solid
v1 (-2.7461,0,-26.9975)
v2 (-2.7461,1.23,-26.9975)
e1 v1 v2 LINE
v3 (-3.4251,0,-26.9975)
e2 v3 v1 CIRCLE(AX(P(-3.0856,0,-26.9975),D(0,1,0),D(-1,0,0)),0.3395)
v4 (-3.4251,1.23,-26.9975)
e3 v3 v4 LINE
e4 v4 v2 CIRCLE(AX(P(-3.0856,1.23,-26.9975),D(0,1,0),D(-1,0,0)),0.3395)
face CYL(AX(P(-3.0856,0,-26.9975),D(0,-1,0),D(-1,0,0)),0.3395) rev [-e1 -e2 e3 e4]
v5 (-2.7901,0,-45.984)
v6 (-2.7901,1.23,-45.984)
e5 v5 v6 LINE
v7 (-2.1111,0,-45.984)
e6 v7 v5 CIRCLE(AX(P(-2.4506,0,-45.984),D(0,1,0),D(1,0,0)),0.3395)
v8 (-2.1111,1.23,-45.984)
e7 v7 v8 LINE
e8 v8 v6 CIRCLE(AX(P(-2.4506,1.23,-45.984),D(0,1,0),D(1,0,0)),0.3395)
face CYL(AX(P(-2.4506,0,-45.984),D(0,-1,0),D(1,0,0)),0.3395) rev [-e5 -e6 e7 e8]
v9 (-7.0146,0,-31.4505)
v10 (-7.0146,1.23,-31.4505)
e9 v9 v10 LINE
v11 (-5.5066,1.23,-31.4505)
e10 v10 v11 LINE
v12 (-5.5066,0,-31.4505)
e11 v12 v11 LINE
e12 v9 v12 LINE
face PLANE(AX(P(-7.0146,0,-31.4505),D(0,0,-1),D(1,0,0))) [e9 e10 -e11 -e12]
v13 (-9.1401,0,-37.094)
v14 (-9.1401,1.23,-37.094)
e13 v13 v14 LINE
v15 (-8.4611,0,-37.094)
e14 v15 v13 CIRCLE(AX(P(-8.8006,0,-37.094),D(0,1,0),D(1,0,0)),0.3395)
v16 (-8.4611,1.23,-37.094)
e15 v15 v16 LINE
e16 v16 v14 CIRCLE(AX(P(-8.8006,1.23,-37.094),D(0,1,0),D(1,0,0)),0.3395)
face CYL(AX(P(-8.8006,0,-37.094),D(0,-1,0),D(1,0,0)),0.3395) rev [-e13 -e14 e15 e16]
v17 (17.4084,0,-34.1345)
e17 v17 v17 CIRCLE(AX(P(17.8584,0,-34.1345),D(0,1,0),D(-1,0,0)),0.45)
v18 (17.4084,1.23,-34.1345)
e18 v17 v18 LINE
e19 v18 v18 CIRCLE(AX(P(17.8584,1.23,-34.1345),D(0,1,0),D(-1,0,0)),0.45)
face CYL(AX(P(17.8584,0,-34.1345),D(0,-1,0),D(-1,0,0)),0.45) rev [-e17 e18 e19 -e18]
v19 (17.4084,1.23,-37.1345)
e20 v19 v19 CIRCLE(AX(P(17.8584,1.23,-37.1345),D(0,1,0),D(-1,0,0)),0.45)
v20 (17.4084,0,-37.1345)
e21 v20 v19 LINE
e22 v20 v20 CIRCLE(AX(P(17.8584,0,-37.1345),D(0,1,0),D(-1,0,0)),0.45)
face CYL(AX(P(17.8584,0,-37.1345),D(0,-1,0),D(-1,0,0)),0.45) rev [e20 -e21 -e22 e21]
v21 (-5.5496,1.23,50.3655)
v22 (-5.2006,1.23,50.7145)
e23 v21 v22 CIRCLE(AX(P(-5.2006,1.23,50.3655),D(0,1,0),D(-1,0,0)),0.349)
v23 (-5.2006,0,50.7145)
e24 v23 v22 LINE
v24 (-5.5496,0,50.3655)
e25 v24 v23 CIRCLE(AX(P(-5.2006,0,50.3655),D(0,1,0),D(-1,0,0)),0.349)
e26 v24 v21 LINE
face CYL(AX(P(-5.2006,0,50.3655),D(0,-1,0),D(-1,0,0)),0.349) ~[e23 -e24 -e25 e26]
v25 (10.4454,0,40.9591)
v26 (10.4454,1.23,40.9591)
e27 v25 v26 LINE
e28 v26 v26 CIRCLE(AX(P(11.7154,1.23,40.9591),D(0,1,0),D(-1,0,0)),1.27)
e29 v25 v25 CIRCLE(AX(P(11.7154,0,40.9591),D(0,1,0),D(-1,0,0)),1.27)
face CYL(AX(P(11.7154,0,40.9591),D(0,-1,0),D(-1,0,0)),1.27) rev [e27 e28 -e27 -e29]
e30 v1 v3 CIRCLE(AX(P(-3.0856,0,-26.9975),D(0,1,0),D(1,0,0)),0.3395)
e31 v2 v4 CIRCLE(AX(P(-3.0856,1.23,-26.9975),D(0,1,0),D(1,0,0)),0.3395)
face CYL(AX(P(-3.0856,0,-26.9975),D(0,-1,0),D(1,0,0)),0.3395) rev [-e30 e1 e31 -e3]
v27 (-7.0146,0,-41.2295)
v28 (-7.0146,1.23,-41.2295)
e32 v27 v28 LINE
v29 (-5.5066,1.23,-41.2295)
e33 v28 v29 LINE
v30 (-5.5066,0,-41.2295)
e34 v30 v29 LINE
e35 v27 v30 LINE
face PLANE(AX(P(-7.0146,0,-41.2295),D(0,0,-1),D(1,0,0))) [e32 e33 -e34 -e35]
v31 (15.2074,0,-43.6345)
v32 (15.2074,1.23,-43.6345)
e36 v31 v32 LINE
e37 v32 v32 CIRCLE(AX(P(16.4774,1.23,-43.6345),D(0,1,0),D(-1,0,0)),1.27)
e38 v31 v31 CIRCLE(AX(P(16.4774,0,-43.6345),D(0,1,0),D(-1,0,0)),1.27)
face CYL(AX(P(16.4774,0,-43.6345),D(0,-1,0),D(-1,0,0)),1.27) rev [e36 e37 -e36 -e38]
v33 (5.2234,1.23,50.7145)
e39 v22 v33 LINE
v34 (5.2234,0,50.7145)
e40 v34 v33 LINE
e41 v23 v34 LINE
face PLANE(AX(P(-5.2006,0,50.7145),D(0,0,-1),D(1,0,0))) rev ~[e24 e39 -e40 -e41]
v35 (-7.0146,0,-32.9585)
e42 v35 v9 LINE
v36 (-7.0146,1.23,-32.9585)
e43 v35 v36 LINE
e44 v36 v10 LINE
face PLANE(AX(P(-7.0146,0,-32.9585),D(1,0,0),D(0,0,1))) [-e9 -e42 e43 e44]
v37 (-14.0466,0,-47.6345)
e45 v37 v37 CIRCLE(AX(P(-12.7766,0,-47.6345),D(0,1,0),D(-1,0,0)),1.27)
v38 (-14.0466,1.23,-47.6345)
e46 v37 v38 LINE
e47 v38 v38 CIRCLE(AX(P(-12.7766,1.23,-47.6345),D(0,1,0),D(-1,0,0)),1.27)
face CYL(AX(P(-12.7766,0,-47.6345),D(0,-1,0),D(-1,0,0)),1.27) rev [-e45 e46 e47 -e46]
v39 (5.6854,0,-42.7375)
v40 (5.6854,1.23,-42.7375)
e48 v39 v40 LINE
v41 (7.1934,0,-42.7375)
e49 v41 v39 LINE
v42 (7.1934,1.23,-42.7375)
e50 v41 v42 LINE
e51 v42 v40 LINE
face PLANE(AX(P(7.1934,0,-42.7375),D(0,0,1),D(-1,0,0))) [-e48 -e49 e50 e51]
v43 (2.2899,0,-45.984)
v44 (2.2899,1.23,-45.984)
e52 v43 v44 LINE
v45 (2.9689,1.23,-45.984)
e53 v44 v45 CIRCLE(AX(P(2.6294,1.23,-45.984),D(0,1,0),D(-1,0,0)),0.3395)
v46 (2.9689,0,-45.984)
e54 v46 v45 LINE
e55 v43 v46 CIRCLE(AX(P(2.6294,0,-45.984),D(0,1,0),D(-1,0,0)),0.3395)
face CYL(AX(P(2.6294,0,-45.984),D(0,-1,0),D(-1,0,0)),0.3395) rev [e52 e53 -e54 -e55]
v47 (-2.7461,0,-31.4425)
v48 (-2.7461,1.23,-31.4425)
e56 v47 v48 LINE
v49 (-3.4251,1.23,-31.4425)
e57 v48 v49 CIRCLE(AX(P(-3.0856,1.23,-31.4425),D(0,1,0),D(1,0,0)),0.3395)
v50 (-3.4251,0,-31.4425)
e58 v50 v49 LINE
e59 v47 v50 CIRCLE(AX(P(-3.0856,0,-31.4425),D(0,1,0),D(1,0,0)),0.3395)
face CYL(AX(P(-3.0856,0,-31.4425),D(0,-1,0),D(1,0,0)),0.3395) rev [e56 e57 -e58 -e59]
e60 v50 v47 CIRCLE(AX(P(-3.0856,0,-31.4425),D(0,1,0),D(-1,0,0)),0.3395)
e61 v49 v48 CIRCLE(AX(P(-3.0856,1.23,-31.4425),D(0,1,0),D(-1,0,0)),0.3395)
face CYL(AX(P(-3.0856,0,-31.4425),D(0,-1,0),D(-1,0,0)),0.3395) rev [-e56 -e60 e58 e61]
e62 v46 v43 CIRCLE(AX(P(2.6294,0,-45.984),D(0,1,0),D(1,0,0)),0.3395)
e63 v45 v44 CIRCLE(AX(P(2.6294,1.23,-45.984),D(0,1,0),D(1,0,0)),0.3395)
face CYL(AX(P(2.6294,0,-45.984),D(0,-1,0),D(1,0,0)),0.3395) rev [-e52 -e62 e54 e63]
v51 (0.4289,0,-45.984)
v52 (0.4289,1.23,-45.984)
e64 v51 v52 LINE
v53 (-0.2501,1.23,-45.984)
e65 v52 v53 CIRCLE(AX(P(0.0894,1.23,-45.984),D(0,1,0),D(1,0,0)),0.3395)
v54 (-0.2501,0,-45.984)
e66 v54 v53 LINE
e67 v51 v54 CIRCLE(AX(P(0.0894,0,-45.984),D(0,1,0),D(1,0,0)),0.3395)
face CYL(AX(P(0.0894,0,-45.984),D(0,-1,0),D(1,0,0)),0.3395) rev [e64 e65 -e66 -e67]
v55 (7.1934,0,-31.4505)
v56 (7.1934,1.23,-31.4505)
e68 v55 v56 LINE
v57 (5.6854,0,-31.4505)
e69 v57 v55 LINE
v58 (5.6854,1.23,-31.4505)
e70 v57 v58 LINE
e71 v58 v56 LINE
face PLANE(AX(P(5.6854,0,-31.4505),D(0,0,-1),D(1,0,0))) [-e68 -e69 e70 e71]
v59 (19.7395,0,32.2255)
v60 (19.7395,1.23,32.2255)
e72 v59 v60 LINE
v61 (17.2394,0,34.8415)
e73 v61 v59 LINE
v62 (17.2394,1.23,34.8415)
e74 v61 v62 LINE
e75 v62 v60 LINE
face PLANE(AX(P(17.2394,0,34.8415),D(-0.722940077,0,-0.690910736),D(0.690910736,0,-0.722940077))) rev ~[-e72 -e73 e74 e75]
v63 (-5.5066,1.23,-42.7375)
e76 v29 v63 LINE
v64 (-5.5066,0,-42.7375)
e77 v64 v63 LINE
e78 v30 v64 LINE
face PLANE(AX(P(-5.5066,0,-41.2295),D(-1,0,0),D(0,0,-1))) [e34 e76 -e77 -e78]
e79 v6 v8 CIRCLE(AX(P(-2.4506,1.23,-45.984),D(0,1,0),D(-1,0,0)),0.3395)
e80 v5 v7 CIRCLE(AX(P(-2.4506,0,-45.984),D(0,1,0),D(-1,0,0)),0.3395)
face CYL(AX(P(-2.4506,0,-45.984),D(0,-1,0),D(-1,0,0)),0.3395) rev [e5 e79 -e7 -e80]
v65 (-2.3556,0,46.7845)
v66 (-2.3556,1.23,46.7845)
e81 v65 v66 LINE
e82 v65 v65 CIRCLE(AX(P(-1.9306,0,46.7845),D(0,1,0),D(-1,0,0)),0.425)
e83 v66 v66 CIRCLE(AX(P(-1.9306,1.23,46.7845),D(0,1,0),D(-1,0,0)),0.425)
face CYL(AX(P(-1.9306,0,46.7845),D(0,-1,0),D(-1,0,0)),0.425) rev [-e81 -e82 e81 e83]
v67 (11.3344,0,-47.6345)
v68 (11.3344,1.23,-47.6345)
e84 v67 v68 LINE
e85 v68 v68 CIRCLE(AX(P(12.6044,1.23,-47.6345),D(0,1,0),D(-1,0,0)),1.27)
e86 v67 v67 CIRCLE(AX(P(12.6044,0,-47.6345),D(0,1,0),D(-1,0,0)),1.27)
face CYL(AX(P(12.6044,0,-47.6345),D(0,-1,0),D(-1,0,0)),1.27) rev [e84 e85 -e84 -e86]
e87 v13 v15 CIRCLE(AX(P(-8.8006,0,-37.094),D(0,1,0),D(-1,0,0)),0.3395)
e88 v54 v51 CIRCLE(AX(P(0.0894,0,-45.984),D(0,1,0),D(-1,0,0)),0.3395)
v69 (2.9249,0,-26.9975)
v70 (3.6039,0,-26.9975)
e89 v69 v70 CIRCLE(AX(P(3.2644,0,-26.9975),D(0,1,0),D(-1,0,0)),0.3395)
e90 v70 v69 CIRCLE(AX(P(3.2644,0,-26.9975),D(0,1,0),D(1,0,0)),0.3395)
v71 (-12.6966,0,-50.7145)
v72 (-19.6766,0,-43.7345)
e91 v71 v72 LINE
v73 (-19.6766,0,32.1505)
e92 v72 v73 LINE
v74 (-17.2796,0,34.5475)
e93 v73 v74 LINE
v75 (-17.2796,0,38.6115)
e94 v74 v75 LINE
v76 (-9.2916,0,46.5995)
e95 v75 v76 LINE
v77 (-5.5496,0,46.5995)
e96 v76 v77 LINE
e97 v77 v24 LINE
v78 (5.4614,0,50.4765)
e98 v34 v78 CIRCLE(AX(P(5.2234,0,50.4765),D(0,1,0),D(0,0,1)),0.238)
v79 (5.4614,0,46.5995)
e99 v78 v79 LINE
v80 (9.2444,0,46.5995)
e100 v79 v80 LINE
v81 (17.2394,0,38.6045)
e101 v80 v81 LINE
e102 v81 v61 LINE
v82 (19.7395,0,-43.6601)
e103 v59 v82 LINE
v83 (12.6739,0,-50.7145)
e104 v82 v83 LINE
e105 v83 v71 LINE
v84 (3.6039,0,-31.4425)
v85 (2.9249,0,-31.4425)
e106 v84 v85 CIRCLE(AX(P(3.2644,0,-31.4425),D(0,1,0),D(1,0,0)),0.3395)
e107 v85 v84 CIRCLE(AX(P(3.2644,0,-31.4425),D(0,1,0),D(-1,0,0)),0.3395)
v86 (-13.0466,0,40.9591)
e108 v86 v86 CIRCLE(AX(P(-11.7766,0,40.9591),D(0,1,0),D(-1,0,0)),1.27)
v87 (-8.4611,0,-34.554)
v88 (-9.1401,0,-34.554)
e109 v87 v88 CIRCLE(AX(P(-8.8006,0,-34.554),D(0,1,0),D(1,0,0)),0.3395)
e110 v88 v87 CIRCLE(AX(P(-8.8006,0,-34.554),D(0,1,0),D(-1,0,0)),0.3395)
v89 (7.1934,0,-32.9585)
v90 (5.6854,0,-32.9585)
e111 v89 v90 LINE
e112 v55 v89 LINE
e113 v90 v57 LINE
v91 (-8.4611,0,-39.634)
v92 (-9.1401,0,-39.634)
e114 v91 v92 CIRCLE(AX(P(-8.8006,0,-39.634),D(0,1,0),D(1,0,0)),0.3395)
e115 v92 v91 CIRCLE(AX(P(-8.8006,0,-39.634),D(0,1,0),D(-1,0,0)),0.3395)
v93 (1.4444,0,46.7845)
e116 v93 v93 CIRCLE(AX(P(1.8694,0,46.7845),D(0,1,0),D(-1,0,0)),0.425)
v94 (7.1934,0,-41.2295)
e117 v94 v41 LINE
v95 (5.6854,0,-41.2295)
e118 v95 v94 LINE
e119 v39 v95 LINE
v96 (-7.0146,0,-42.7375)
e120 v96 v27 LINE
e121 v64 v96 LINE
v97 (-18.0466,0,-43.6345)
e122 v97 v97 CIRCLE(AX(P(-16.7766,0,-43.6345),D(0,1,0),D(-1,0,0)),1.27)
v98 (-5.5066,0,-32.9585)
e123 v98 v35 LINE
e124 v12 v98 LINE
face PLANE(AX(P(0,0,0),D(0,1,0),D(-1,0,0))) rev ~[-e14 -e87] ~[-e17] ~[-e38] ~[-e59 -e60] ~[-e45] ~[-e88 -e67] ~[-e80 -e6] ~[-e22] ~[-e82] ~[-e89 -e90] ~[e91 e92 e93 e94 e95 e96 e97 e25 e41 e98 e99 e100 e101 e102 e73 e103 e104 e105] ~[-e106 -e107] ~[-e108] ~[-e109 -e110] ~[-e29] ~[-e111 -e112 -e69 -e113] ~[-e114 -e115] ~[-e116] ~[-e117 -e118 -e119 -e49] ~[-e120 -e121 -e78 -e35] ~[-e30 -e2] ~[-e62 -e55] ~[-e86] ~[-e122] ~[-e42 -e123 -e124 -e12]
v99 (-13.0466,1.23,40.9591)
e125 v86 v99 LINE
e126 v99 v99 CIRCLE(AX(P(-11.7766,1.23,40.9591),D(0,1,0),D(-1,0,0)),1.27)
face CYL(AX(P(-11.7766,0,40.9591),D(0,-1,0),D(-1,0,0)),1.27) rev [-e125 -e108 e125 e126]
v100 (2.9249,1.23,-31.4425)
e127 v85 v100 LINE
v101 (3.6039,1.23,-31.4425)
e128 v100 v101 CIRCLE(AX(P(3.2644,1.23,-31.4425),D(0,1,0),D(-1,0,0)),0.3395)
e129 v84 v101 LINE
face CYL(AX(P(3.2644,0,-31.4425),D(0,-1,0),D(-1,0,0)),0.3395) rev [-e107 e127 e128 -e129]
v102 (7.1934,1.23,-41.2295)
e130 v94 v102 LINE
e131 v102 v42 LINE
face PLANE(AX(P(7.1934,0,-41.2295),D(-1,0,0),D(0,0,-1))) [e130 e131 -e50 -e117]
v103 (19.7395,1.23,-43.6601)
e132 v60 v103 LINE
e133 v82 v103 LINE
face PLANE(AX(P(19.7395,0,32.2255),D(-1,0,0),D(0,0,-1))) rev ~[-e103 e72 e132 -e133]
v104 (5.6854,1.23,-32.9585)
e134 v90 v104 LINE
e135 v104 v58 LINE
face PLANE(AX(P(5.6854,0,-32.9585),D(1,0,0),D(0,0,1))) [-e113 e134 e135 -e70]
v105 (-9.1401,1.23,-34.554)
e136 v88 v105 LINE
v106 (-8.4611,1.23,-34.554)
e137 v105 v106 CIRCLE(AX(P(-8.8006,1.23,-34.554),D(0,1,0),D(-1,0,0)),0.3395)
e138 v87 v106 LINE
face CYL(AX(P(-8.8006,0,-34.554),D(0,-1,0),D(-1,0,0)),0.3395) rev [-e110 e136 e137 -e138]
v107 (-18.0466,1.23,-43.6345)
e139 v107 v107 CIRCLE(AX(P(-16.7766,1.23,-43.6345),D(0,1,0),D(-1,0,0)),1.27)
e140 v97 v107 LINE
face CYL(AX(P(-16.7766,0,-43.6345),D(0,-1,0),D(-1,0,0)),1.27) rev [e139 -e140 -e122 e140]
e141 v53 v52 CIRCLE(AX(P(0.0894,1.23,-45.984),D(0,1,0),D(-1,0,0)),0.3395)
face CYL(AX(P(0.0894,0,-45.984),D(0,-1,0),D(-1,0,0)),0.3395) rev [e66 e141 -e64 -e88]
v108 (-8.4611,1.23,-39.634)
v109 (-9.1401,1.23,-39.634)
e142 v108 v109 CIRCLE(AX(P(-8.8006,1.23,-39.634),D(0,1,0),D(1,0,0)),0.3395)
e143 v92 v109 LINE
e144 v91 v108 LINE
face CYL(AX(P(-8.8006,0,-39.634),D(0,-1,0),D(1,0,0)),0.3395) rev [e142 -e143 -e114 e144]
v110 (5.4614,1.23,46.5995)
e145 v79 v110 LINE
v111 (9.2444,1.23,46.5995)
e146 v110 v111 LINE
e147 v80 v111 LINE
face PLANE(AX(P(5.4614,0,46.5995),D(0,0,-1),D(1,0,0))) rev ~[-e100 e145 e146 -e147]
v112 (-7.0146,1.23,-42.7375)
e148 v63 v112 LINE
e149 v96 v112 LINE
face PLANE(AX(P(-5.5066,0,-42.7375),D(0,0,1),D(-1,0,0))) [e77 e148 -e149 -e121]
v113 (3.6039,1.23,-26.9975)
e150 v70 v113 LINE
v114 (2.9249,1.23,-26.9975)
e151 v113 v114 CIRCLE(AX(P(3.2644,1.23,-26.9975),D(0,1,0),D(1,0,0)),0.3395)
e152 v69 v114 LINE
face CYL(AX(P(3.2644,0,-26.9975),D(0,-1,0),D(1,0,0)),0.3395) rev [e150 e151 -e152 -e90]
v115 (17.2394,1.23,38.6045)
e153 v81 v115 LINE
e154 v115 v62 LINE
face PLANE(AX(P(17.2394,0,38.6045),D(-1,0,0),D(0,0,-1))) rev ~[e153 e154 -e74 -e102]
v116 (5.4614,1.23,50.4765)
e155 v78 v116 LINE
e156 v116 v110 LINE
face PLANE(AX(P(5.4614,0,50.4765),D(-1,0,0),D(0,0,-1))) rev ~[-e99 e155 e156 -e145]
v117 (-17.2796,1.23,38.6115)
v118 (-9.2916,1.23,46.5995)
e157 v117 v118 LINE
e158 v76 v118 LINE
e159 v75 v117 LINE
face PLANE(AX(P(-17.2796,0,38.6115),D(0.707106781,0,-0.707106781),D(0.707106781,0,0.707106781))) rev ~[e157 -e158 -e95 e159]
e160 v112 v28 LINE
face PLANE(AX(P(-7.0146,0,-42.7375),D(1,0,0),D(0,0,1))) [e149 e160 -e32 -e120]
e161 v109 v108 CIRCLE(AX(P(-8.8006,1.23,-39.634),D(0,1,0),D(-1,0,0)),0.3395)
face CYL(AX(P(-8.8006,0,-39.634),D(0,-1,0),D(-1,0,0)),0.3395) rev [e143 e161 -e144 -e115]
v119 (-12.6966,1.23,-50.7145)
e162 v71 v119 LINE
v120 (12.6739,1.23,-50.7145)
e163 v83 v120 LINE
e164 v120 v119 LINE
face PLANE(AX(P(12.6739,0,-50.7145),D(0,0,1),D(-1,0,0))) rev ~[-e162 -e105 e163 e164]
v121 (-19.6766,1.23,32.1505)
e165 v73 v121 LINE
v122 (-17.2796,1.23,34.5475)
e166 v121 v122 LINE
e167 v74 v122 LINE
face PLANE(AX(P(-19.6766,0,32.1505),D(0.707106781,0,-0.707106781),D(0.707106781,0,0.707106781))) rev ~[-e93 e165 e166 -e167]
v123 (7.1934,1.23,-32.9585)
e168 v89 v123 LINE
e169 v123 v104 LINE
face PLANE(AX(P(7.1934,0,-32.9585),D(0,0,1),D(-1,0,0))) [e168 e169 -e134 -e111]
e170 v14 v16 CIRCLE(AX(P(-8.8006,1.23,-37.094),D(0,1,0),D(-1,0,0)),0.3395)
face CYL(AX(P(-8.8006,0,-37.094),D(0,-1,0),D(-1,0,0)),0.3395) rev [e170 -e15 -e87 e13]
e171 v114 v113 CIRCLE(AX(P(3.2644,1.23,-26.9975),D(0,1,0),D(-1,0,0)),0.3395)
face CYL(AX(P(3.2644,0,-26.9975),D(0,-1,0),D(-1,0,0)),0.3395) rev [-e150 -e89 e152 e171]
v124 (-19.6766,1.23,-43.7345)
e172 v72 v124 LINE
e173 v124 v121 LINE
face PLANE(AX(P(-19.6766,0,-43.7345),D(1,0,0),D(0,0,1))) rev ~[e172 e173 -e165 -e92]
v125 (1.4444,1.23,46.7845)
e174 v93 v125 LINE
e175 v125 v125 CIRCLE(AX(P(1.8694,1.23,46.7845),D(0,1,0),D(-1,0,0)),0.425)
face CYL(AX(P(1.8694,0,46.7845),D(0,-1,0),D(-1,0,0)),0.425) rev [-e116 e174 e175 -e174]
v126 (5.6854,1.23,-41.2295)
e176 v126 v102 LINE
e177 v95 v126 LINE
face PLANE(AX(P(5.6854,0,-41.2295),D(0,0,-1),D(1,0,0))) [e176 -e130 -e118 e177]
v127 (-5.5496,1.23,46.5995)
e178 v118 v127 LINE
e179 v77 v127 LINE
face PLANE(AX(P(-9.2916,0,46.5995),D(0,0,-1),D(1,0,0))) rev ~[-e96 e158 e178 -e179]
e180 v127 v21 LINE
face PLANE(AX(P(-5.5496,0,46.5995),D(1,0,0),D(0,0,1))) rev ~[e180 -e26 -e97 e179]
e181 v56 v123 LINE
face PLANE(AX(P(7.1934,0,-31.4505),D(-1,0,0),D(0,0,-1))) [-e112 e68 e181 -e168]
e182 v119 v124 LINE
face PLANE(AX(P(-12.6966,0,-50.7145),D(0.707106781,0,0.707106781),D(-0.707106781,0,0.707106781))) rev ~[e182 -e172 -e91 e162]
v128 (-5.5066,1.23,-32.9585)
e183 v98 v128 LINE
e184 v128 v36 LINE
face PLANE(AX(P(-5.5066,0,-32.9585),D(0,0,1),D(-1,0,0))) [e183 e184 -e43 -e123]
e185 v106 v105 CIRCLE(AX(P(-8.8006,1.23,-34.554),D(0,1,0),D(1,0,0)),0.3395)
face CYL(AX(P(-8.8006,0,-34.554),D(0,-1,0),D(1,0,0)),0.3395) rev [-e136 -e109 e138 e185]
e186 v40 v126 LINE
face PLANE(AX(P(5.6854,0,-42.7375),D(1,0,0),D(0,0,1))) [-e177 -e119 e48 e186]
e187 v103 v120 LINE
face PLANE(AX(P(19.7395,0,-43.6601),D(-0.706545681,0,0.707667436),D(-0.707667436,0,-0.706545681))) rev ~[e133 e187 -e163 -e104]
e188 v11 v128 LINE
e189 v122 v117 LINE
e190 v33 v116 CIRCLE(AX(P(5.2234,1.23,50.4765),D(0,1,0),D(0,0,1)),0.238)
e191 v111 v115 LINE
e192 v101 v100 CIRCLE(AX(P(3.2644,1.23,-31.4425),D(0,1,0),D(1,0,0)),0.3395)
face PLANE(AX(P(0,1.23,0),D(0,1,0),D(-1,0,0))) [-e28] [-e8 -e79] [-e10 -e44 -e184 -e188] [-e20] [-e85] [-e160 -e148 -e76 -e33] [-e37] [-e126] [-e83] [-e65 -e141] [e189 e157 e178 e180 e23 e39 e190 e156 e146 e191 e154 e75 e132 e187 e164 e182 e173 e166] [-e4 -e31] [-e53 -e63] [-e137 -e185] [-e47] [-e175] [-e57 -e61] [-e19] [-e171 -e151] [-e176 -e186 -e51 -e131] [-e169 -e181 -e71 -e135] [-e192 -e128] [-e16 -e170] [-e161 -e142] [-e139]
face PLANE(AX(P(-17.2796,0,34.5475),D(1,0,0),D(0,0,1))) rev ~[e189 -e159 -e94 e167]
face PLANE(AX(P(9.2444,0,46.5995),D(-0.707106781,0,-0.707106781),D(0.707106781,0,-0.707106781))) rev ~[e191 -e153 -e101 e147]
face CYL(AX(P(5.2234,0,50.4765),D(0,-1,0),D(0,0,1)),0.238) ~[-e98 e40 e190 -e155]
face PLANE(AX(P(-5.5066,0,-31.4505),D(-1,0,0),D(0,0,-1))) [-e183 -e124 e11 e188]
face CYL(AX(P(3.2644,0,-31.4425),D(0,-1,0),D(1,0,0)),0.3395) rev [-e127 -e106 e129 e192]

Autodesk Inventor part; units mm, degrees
sketch "Sketch1" plane through (0, 0, 0) normal (0, 1, 0) x (-1, 0, 0)
  line L0 (5.5496, 46.5995) -> (5.5496, 50.3655)
  arc A0 (5.5496, 50.3655) -> (5.2006, 50.7145) centre (5.2006, 50.3655) ccw
  line L1 (5.2006, 50.7145) -> (-5.2234, 50.7145)
  arc A1 (-5.2234, 50.7145) -> (-5.4614, 50.4765) centre (-5.2234, 50.4765) ccw
  line L2 (-5.4614, 50.4765) -> (-5.4614, 46.5995)
  line L3 (-5.4614, 46.5995) -> (-9.2444, 46.5995)
  line L4 (-9.2444, 46.5995) -> (-17.2394, 38.6045)
  line L5 (-17.2394, 38.6045) -> (-17.2394, 34.8415)
  line L6 (-17.2394, 34.8415) -> (-19.7395, 32.2255)
  line L7 (-19.7395, 32.2255) -> (-19.7395, -43.6601)
  line L8 (-19.7395, -43.6601) -> (-12.6739, -50.7145)
  line L9 (-12.6739, -50.7145) -> (12.6966, -50.7145)
  line L10 (12.6966, -50.7145) -> (19.6766, -43.7345)
  line L11 (19.6766, -43.7345) -> (19.6766, 32.1505)
  line L12 (19.6766, 32.1505) -> (17.2796, 34.5475)
  line L13 (17.2796, 34.5475) -> (17.2796, 38.6115)
  line L14 (17.2796, 38.6115) -> (9.2916, 46.5995)
  line L15 (9.2916, 46.5995) -> (5.5496, 46.5995)
  circle A2 centre (12.7766, -47.6345) radius 1.27
  circle A3 centre (-12.6044, -47.6345) radius 1.27
  circle A4 centre (16.7766, -43.6345) radius 1.27
  circle A5 centre (-16.4774, -43.6345) radius 1.27
  circle A6 centre (11.7766, 40.9591) radius 1.27
  circle A7 centre (-11.7154, 40.9591) radius 1.27
  circle A8 centre (-1.8694, 46.7845) radius 0.425
  circle A9 centre (1.9306, 46.7845) radius 0.425
  circle A10 centre (-17.8584, -37.1345) radius 0.45
  circle A11 centre (-17.8584, -34.1345) radius 0.45
  arc A12 (3.4251, -26.9975) -> (2.7461, -26.9975) centre (3.0856, -26.9975) ccw
  arc A13 (2.7461, -26.9975) -> (3.4251, -26.9975) centre (3.0856, -26.9975) ccw
  arc A14 (3.4251, -26.9975) -> (2.7461, -26.9975) centre (3.0856, -26.9975) ccw
  arc A15 (2.7461, -26.9975) -> (3.4251, -26.9975) centre (3.0856, -26.9975) ccw
  arc A16 (3.4251, -31.4425) -> (2.7461, -31.4425) centre (3.0856, -31.4425) ccw
  arc A17 (2.7461, -31.4425) -> (3.4251, -31.4425) centre (3.0856, -31.4425) ccw
  arc A18 (3.4251, -31.4425) -> (2.7461, -31.4425) centre (3.0856, -31.4425) ccw
  arc A19 (2.7461, -31.4425) -> (3.4251, -31.4425) centre (3.0856, -31.4425) ccw
  arc A20 (-2.9249, -31.4425) -> (-3.6039, -31.4425) centre (-3.2644, -31.4425) ccw
  arc A21 (-3.6039, -31.4425) -> (-2.9249, -31.4425) centre (-3.2644, -31.4425) ccw
  arc A22 (-2.9249, -31.4425) -> (-3.6039, -31.4425) centre (-3.2644, -31.4425) ccw
  arc A23 (-3.6039, -31.4425) -> (-2.9249, -31.4425) centre (-3.2644, -31.4425) ccw
  arc A24 (-2.9249, -26.9975) -> (-3.6039, -26.9975) centre (-3.2644, -26.9975) ccw
  arc A25 (-3.6039, -26.9975) -> (-2.9249, -26.9975) centre (-3.2644, -26.9975) ccw
  arc A26 (-2.9249, -26.9975) -> (-3.6039, -26.9975) centre (-3.2644, -26.9975) ccw
  arc A27 (-3.6039, -26.9975) -> (-2.9249, -26.9975) centre (-3.2644, -26.9975) ccw
  line L16 (7.0146, -32.9585) -> (7.0146, -31.4505)
  line L17 (7.0146, -31.4505) -> (5.5066, -31.4505)
  line L18 (5.5066, -31.4505) -> (5.5066, -32.9585)
  line L19 (5.5066, -32.9585) -> (7.0146, -32.9585)
  line L20 (7.0146, -32.9585) -> (7.0146, -31.4505)
  line L21 (7.0146, -31.4505) -> (5.5066, -31.4505)
  line L22 (5.5066, -31.4505) -> (5.5066, -32.9585)
  line L23 (5.5066, -32.9585) -> (7.0146, -32.9585)
  line L24 (7.0146, -42.7375) -> (7.0146, -41.2295)
  line L25 (7.0146, -41.2295) -> (5.5066, -41.2295)
  line L26 (5.5066, -41.2295) -> (5.5066, -42.7375)
  line L27 (5.5066, -42.7375) -> (7.0146, -42.7375)
  line L28 (7.0146, -42.7375) -> (7.0146, -41.2295)
  line L29 (7.0146, -41.2295) -> (5.5066, -41.2295)
  line L30 (5.5066, -41.2295) -> (5.5066, -42.7375)
  line L31 (5.5066, -42.7375) -> (7.0146, -42.7375)
  line L32 (-5.6854, -42.7375) -> (-5.6854, -41.2295)
  line L33 (-5.6854, -41.2295) -> (-7.1934, -41.2295)
  line L34 (-7.1934, -41.2295) -> (-7.1934, -42.7375)
  line L35 (-7.1934, -42.7375) -> (-5.6854, -42.7375)
  line L36 (-5.6854, -42.7375) -> (-5.6854, -41.2295)
  line L37 (-5.6854, -41.2295) -> (-7.1934, -41.2295)
  line L38 (-7.1934, -41.2295) -> (-7.1934, -42.7375)
  line L39 (-7.1934, -42.7375) -> (-5.6854, -42.7375)
  line L40 (-5.6854, -32.9585) -> (-5.6854, -31.4505)
  line L41 (-5.6854, -31.4505) -> (-7.1934, -31.4505)
  line L42 (-7.1934, -31.4505) -> (-7.1934, -32.9585)
  line L43 (-7.1934, -32.9585) -> (-5.6854, -32.9585)
  line L44 (-5.6854, -32.9585) -> (-5.6854, -31.4505)
  line L45 (-5.6854, -31.4505) -> (-7.1934, -31.4505)
  line L46 (-7.1934, -31.4505) -> (-7.1934, -32.9585)
  line L47 (-7.1934, -32.9585) -> (-5.6854, -32.9585)
  arc A28 (9.1401, -34.554) -> (8.4611, -34.554) centre (8.8006, -34.554) ccw
  arc A29 (8.4611, -34.554) -> (9.1401, -34.554) centre (8.8006, -34.554) ccw
  arc A30 (9.1401, -34.554) -> (8.4611, -34.554) centre (8.8006, -34.554) ccw
  arc A31 (8.4611, -34.554) -> (9.1401, -34.554) centre (8.8006, -34.554) ccw
  arc A32 (9.1401, -39.634) -> (8.4611, -39.634) centre (8.8006, -39.634) ccw
  arc A33 (8.4611, -39.634) -> (9.1401, -39.634) centre (8.8006, -39.634) ccw
  arc A34 (9.1401, -39.634) -> (8.4611, -39.634) centre (8.8006, -39.634) ccw
  arc A35 (8.4611, -39.634) -> (9.1401, -39.634) centre (8.8006, -39.634) ccw
  arc A36 (9.1401, -37.094) -> (8.4611, -37.094) centre (8.8006, -37.094) ccw
  arc A37 (8.4611, -37.094) -> (9.1401, -37.094) centre (8.8006, -37.094) ccw
  arc A38 (9.1401, -37.094) -> (8.4611, -37.094) centre (8.8006, -37.094) ccw
  arc A39 (8.4611, -37.094) -> (9.1401, -37.094) centre (8.8006, -37.094) ccw
  arc A40 (2.7901, -45.984) -> (2.1111, -45.984) centre (2.4506, -45.984) ccw
  arc A41 (2.1111, -45.984) -> (2.7901, -45.984) centre (2.4506, -45.984) ccw
  arc A42 (2.7901, -45.984) -> (2.1111, -45.984) centre (2.4506, -45.984) ccw
  arc A43 (2.1111, -45.984) -> (2.7901, -45.984) centre (2.4506, -45.984) ccw
  arc A44 (-2.2899, -45.984) -> (-2.9689, -45.984) centre (-2.6294, -45.984) ccw
  arc A45 (-2.9689, -45.984) -> (-2.2899, -45.984) centre (-2.6294, -45.984) ccw
  arc A46 (-2.2899, -45.984) -> (-2.9689, -45.984) centre (-2.6294, -45.984) ccw
  arc A47 (-2.9689, -45.984) -> (-2.2899, -45.984) centre (-2.6294, -45.984) ccw
  arc A48 (0.2501, -45.984) -> (-0.4289, -45.984) centre (-0.0894, -45.984) ccw
  arc A49 (-0.4289, -45.984) -> (0.2501, -45.984) centre (-0.0894, -45.984) ccw
  arc A50 (0.2501, -45.984) -> (-0.4289, -45.984) centre (-0.0894, -45.984) ccw
  arc A51 (-0.4289, -45.984) -> (0.2501, -45.984) centre (-0.0894, -45.984) ccw
  point P0 (5.5496, 50.3655)
  point P1 (-0.4289, -45.984)
  point P2 (0.2501, -45.984)
  point P3 (2.1111, -45.984)
  point P4 (2.7901, -45.984)
  point P5 (8.4611, -39.634)
  point P6 (9.1401, -39.634)
  point P7 (-3.6039, -26.9975)
  point P8 (-2.9249, -26.9975)
  point P9 (2.7461, -31.4425)
  point P10 (3.4251, -31.4425)
  point P11 (2.7461, -26.9975)
  point P12 (3.4251, -26.9975)
  point P13 (-3.6039, -31.4425)
  point P14 (-2.9249, -31.4425)
  point P15 (8.4611, -34.554)
  point P16 (9.1401, -34.554)
  point P17 (8.4611, -37.094)
  point P18 (9.1401, -37.094)
  point P19 (-2.9689, -45.984)
  point P20 (-2.2899, -45.984)
extrude "Extrusion1" add sketch "Sketch1" along normal blind 1.23
ref_plane "Work Plane1" through (0, 0.615, 0) normal (0, 1, 0) x (1, 0, 0)
ref_plane "Work Plane3" through (0.0314, 0, 32.2255) normal (1, 0, 0) x (0, 0, -1)
ref_plane "Work Plane5" through (12.6739, 1.23, -50.7145) normal (0, 0.766, -0.6428) x (-1, 0, 0)
ref_plane "Work Plane6" through (-5.2006, 0, 0) normal (0, 0, 1) x (1, 0, 0)
sketch "Sketch3" plane through (0, 1.23, 0) normal (0, 1, 0) x (1, 0, 0)
  circle A0 centre (17.8584, 37.1345) radius 0.45 projected
  circle A1 centre (17.8584, 34.1345) radius 0.45 projected
  line L0 (17.8584, 37.1345) -> (17.8584, 34.1345)
  line L1 (17.8584, 35.6345) -> (19.3564, 35.6345)
  line L2 (19.7395, -32.2255) -> (19.7395, 43.6601) projected
ref_plane "Work Plane7" through (17.8584, 1.23, -35.6345) normal (0, 0, 1) x (1, 0, 0)
properties part number "PCB"
